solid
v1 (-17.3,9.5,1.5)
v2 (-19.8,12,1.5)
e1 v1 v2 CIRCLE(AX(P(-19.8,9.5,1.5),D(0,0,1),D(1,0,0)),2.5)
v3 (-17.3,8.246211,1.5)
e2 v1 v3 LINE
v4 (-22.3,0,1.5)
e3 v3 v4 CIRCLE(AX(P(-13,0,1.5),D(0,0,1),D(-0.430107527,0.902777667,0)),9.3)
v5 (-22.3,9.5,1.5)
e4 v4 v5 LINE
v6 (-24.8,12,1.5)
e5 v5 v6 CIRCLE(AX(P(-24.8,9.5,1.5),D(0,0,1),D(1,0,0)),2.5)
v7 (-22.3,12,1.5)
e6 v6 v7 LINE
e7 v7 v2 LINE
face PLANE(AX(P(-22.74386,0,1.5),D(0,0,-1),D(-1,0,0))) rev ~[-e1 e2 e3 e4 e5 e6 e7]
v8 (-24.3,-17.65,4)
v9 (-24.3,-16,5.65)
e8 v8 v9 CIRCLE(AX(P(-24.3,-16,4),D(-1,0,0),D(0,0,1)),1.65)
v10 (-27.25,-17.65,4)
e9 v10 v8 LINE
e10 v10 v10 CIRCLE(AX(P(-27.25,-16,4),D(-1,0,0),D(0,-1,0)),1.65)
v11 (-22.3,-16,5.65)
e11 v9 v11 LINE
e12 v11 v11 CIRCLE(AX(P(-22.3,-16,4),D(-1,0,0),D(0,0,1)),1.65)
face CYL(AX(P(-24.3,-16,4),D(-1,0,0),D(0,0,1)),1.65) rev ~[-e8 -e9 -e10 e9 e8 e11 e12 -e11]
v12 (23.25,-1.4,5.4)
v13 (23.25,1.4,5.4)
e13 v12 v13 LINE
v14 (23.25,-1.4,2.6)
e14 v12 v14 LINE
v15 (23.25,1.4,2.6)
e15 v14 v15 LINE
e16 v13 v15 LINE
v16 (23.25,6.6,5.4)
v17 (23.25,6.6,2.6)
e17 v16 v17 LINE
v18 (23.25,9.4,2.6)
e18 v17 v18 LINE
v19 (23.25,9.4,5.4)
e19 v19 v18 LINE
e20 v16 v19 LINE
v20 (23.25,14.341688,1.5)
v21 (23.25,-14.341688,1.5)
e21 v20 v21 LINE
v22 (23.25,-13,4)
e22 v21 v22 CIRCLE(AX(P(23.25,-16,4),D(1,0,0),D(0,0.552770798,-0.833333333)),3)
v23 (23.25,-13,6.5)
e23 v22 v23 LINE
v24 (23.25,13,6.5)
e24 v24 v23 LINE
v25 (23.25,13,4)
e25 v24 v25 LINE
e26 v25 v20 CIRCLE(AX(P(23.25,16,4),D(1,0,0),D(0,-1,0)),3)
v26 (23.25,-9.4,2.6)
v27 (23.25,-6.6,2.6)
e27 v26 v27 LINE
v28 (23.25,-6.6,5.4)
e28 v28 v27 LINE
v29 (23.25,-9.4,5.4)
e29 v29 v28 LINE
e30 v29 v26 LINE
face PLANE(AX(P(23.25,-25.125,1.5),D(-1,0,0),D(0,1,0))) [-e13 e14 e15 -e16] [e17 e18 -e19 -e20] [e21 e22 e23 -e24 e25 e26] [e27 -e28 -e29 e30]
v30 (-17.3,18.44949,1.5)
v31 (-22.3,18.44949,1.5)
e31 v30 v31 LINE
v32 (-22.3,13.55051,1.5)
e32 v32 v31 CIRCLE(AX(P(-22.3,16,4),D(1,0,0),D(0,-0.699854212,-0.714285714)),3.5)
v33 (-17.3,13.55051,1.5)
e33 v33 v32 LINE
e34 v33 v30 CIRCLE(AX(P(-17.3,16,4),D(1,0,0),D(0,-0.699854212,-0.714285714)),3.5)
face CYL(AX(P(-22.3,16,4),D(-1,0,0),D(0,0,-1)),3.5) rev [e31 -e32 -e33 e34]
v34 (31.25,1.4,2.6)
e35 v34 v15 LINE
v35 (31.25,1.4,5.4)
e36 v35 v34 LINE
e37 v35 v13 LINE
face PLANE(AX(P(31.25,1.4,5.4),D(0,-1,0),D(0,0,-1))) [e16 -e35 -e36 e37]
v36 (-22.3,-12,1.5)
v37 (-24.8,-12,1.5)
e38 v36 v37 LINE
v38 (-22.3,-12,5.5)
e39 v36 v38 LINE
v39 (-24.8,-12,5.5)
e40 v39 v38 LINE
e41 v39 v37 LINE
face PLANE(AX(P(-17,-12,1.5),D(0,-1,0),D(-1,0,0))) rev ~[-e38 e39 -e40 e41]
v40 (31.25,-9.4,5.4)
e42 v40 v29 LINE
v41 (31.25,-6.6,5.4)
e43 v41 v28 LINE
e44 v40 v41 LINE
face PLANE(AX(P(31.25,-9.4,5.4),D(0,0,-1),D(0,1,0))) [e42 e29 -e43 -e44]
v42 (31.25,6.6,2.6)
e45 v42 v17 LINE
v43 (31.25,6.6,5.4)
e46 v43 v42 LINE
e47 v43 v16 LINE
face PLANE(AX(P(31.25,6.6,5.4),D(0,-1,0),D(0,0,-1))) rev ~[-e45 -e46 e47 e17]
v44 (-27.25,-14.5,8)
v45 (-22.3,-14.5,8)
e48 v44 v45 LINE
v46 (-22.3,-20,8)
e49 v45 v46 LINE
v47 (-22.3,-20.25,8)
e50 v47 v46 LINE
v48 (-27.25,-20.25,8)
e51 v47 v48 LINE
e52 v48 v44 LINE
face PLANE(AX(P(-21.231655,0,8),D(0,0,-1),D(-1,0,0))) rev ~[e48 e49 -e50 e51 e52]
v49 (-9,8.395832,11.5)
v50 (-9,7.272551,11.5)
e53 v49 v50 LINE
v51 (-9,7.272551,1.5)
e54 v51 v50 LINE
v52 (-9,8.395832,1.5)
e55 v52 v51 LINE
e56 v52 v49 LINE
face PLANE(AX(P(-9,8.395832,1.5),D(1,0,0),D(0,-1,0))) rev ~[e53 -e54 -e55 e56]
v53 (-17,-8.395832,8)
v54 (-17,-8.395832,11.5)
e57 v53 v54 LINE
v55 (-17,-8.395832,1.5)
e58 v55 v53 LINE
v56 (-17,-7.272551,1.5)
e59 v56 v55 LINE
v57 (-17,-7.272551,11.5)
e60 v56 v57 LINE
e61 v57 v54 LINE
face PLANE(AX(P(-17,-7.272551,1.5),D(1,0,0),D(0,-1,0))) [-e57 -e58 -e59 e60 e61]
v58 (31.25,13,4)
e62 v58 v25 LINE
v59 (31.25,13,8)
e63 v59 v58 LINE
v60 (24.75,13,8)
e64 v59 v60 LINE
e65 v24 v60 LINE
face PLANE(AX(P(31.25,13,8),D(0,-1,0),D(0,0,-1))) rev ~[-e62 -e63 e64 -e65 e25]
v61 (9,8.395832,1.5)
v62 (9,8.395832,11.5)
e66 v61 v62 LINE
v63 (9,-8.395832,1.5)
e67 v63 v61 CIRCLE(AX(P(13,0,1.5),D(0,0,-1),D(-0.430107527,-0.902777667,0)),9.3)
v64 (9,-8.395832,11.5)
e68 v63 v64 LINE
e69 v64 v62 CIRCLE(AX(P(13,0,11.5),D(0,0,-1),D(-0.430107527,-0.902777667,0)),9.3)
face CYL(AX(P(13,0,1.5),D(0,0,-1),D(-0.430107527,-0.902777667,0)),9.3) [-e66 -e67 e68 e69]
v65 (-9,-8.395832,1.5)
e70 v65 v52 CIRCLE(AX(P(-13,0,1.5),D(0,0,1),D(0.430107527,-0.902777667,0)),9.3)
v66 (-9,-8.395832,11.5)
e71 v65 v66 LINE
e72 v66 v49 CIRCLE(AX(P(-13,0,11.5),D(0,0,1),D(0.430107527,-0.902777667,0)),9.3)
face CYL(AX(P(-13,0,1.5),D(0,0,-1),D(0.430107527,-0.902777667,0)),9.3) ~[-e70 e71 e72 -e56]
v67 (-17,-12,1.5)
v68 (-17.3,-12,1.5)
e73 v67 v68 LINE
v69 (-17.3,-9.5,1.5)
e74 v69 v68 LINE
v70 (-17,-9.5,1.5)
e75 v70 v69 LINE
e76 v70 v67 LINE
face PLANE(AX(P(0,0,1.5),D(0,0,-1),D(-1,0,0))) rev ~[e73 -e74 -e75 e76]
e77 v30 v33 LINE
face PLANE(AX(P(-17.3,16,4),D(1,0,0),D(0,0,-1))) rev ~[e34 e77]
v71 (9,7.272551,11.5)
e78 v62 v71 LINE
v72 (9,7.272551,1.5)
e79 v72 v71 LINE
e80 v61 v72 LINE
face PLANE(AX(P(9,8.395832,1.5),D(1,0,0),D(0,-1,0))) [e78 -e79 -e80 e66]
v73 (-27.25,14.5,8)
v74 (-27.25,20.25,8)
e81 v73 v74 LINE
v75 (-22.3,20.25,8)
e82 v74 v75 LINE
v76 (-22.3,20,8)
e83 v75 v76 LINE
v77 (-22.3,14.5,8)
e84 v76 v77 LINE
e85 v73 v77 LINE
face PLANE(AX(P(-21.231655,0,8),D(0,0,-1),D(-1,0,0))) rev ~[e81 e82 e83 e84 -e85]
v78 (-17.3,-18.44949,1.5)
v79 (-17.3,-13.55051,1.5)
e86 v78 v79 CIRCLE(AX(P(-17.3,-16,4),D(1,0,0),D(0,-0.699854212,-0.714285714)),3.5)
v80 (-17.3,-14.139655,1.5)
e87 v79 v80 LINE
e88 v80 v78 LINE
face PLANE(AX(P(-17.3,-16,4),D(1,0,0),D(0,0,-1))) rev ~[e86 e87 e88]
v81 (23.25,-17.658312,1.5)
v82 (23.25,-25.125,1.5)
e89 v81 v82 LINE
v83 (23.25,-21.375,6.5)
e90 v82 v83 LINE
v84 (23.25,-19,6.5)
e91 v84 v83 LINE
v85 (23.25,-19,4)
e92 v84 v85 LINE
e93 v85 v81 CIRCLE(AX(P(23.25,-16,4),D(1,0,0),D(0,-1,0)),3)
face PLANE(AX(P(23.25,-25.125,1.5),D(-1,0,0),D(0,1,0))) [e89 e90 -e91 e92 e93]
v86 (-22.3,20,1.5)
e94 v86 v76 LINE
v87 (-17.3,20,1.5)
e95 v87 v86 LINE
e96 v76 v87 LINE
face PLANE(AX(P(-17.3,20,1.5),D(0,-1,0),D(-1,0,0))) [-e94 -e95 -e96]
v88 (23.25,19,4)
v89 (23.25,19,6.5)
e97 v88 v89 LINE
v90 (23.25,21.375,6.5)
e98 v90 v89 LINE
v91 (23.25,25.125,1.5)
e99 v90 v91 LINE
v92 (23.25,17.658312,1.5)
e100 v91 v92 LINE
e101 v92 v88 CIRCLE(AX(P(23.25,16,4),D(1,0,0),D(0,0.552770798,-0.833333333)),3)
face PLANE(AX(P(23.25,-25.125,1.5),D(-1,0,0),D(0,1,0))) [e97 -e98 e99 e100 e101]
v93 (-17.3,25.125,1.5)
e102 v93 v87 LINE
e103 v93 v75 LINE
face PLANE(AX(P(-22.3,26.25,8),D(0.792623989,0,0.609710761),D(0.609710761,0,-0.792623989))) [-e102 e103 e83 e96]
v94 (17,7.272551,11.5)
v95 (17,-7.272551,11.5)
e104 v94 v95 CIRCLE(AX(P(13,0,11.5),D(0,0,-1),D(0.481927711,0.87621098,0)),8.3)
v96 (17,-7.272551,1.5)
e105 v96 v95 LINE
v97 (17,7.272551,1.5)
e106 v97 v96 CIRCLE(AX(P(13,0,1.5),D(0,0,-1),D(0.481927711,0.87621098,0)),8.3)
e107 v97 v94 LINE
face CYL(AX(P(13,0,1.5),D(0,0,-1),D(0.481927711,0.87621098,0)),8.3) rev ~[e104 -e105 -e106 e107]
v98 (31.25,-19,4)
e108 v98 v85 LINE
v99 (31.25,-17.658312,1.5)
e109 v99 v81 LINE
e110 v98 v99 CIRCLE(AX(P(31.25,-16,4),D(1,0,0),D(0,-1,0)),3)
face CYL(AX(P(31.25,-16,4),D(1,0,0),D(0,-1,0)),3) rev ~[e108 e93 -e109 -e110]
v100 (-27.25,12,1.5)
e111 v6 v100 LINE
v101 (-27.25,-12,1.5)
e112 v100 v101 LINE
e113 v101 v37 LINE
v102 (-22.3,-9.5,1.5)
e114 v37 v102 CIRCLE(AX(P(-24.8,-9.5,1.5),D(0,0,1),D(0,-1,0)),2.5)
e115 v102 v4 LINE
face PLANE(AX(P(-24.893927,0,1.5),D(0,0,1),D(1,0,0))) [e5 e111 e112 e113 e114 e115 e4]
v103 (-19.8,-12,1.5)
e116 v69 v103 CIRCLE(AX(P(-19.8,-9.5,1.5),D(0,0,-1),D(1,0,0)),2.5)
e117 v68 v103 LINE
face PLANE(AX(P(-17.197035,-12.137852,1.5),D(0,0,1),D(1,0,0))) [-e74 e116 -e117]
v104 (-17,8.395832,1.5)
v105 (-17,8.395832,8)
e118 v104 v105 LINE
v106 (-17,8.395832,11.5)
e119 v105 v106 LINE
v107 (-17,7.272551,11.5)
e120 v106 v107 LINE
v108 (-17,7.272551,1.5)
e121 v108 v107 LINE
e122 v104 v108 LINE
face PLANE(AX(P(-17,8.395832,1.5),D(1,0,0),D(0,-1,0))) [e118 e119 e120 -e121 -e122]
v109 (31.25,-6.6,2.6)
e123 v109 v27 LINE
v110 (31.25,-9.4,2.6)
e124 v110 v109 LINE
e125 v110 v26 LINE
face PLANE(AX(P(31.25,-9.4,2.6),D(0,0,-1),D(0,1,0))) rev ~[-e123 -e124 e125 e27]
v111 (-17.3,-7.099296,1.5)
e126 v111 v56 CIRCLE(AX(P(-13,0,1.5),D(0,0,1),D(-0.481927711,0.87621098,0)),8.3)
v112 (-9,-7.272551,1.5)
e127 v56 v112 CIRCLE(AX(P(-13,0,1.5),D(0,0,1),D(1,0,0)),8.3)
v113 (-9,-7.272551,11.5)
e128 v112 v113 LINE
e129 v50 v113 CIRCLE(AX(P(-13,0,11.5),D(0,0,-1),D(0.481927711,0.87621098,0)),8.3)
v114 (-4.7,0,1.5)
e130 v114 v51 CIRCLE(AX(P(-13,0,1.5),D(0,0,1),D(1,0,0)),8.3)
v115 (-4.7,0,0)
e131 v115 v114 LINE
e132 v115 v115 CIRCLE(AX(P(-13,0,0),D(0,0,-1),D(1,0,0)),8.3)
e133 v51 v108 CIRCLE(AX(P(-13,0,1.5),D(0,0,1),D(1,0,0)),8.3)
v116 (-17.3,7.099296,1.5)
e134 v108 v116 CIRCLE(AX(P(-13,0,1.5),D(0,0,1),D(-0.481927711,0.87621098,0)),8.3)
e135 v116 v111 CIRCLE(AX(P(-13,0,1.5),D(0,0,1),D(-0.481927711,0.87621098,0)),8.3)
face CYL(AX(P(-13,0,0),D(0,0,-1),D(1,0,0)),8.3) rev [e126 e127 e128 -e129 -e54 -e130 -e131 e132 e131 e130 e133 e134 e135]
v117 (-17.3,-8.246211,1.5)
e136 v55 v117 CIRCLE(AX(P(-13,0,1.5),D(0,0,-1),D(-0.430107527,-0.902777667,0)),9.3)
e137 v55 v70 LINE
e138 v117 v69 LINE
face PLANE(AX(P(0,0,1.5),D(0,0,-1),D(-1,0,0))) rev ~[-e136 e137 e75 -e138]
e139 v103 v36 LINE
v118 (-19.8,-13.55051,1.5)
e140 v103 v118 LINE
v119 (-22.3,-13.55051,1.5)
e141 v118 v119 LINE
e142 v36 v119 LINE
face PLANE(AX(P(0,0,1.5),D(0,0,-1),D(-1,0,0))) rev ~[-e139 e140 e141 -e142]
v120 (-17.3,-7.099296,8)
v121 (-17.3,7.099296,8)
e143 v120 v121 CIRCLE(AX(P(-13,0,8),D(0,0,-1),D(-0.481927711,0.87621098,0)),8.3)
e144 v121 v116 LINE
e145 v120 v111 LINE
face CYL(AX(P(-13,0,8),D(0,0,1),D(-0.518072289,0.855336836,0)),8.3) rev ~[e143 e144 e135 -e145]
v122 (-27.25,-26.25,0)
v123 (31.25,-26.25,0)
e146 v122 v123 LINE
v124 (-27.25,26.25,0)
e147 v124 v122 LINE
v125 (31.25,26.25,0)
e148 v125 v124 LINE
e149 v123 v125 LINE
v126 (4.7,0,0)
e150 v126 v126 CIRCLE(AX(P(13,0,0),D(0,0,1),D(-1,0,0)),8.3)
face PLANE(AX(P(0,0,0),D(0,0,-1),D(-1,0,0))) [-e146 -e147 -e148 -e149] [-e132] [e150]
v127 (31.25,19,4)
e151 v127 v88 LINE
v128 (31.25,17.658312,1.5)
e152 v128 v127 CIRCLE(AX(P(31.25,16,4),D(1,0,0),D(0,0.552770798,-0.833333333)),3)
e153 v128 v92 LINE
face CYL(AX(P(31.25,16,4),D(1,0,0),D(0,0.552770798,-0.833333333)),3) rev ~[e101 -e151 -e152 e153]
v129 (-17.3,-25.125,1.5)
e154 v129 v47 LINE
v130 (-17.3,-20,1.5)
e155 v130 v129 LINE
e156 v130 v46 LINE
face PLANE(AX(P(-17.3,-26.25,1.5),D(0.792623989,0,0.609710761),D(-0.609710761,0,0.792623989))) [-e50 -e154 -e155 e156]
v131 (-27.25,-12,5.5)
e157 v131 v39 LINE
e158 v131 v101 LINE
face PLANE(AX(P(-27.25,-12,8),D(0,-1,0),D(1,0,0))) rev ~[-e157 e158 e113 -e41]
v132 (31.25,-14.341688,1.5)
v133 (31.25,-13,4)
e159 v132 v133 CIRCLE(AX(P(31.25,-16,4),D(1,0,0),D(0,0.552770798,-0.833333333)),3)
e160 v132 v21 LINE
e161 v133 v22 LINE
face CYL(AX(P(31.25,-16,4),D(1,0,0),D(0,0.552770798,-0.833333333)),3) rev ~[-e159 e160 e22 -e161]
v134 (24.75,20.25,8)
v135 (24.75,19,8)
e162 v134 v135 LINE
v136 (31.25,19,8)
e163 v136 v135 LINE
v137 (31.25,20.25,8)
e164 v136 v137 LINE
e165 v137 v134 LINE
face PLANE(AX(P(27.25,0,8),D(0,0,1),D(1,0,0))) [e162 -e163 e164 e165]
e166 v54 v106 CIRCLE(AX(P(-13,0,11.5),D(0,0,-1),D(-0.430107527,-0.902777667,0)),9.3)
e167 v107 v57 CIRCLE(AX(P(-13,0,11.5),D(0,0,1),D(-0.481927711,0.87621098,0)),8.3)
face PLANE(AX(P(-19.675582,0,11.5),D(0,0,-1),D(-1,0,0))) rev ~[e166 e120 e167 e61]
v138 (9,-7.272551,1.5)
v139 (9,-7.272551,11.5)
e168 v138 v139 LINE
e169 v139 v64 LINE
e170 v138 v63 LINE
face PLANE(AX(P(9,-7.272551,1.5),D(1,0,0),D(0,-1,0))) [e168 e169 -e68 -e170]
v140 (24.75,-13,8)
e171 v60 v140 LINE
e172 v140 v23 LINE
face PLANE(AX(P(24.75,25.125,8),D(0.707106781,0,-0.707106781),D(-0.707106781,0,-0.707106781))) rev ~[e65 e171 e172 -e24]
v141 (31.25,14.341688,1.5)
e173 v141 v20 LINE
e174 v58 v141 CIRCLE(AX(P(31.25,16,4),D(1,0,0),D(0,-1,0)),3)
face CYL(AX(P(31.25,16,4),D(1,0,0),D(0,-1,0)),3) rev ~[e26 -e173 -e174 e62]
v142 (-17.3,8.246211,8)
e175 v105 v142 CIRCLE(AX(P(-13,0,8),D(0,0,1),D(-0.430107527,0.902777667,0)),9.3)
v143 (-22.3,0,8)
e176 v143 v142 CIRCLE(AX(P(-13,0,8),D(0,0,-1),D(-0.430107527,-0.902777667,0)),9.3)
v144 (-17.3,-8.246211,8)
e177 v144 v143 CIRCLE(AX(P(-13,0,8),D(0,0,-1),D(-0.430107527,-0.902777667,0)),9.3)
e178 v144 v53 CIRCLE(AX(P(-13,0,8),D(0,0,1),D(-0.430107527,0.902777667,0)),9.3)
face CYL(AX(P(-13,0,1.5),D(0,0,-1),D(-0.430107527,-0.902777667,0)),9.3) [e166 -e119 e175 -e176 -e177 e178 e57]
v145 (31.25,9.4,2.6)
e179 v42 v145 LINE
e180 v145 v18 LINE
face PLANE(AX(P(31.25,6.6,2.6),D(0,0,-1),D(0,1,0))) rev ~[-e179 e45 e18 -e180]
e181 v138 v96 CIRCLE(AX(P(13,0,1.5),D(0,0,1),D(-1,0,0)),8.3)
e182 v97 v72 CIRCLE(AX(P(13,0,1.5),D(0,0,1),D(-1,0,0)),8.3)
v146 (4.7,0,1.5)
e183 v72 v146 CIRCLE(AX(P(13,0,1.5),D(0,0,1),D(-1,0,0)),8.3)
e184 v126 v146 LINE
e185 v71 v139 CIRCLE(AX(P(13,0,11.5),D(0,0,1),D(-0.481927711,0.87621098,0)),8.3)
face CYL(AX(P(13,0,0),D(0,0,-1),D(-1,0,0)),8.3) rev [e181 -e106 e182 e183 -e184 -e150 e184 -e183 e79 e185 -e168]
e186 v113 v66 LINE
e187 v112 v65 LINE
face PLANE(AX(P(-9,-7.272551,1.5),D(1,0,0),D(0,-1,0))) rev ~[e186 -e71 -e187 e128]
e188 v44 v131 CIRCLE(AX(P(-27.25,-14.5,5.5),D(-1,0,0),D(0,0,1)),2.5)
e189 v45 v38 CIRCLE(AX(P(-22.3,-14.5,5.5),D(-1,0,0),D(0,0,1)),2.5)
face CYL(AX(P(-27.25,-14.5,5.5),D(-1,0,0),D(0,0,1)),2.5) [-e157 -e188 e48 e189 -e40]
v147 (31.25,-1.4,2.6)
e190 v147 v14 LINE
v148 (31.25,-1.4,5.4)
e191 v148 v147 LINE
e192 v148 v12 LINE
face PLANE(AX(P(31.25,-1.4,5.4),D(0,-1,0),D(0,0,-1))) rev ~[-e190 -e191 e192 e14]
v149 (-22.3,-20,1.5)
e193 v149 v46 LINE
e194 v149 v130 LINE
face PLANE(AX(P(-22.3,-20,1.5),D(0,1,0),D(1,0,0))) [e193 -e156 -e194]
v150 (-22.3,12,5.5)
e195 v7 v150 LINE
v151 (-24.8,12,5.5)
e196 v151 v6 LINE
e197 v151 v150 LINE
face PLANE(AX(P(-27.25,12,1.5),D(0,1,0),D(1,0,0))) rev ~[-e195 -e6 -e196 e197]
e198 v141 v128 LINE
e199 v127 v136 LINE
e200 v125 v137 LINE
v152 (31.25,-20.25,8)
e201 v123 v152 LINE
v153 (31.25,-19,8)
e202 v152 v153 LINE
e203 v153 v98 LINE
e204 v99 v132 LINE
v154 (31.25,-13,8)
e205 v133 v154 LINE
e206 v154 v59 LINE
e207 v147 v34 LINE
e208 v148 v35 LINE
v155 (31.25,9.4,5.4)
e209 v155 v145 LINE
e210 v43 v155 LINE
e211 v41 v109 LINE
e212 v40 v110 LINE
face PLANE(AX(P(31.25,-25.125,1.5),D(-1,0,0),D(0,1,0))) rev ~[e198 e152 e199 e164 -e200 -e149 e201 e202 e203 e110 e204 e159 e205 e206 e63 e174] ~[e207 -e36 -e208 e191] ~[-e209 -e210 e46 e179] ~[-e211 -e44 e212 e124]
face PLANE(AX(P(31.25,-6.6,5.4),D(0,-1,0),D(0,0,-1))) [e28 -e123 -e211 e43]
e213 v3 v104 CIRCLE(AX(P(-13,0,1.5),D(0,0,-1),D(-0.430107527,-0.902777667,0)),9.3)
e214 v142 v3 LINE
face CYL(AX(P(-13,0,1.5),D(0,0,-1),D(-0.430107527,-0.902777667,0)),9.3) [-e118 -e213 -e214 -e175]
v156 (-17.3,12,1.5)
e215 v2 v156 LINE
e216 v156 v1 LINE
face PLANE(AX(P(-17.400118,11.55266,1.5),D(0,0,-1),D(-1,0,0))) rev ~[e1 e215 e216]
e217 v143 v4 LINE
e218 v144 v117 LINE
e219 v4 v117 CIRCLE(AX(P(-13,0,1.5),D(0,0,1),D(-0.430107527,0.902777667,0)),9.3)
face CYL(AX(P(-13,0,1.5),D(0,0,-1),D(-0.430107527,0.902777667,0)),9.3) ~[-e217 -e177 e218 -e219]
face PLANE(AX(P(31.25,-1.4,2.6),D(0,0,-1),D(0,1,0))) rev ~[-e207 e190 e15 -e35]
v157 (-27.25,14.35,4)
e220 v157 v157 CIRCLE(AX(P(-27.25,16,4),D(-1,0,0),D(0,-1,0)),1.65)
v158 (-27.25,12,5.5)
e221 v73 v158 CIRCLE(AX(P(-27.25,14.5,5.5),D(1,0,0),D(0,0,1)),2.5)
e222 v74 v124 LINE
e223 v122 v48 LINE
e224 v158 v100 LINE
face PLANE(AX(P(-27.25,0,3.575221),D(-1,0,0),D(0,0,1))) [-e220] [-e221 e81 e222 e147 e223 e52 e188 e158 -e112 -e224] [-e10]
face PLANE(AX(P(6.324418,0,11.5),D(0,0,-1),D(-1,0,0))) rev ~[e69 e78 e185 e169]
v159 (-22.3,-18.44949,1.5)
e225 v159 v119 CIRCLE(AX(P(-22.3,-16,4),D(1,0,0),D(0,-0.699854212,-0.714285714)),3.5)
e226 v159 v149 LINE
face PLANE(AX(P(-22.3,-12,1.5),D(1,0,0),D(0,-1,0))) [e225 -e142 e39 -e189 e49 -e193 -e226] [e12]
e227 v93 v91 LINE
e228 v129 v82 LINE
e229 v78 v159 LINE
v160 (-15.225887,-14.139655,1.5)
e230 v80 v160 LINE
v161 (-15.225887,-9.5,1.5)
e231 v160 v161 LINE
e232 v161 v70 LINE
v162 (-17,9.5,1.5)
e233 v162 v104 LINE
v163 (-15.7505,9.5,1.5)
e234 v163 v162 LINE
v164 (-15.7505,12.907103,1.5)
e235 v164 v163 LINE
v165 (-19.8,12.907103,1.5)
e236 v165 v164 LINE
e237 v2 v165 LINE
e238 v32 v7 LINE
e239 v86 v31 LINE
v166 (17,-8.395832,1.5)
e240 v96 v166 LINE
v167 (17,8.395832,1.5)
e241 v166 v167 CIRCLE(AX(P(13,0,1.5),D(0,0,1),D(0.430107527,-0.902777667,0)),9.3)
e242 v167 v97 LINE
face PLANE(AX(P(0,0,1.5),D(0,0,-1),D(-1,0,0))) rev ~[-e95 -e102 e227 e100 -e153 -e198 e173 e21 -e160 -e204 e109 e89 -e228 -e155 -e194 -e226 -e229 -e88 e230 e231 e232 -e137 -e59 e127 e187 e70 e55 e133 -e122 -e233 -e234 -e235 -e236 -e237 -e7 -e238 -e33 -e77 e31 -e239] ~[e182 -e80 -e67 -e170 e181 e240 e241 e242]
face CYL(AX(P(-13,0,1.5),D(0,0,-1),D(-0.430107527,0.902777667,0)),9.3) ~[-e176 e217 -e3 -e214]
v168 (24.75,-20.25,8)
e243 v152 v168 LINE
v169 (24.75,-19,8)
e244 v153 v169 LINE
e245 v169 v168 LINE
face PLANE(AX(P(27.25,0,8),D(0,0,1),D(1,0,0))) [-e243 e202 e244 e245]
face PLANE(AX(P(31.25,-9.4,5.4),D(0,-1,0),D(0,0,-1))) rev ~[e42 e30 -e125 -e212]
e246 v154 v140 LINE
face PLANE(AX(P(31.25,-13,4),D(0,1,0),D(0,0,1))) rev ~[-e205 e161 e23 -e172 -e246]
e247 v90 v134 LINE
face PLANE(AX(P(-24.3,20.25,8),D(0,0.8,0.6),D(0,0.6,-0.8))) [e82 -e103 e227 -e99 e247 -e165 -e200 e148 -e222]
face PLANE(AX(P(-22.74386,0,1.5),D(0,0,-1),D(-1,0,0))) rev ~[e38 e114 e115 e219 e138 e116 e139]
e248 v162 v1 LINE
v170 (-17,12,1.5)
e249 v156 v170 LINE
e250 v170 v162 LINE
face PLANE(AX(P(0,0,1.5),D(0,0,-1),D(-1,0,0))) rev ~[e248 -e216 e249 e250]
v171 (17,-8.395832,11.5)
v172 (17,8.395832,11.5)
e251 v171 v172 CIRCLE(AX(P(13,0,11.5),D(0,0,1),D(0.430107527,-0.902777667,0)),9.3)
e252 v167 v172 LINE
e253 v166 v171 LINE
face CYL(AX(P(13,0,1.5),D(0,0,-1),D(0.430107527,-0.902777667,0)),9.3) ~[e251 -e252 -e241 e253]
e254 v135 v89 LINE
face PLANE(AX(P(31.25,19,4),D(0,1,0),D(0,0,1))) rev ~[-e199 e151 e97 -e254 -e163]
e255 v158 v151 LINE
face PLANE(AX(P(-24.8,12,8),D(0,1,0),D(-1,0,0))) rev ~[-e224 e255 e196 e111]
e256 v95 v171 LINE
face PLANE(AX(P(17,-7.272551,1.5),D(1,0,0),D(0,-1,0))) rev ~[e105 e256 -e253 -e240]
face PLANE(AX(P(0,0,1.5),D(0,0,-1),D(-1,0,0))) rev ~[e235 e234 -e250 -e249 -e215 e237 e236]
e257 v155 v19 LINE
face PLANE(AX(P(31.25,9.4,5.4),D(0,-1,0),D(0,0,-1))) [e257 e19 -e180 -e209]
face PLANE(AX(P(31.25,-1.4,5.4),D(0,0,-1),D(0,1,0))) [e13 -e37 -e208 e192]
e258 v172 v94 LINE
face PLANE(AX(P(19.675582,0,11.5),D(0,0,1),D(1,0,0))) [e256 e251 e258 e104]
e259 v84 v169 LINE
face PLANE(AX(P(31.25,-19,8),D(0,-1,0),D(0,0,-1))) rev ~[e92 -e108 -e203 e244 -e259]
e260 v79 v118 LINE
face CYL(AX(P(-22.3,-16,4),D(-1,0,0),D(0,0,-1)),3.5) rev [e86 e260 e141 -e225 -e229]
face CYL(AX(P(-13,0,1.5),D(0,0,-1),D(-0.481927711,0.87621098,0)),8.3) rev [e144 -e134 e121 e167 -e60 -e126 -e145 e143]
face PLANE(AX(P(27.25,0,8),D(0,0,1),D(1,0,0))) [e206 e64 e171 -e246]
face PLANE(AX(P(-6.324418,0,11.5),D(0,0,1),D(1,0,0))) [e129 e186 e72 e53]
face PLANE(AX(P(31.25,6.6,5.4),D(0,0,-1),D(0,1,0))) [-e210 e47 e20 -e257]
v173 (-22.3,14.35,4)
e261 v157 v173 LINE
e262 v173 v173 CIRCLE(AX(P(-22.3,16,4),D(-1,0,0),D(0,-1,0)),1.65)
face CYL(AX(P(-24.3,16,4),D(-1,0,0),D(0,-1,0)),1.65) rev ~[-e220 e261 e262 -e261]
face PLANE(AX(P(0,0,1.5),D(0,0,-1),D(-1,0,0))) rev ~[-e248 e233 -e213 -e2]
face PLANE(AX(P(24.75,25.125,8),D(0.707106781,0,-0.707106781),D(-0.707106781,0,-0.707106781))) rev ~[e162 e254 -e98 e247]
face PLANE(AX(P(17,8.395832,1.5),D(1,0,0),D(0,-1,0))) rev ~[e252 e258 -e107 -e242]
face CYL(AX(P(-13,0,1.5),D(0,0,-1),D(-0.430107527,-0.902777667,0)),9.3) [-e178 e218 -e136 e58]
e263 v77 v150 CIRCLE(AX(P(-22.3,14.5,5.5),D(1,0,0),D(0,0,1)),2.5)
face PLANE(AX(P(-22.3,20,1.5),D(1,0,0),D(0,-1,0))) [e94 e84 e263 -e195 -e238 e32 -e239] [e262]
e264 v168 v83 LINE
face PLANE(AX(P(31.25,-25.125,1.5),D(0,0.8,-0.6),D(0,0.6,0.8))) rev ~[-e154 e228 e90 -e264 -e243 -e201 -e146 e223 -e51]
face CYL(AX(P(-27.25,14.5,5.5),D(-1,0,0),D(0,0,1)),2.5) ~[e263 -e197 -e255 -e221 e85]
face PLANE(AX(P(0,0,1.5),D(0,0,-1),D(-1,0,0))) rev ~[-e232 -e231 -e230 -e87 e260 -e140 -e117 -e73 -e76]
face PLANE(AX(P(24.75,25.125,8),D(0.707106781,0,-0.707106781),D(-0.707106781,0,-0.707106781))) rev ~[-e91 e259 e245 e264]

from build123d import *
from build123d.topology import SkipClean

# Parameters (mm, degrees)
ESBO_O1_R                 = 8.3
RESSALTO_EXTRUS_O1_DEPTH  = 1.5
RESSALTO_EXTRUS_O2_DEPTH  = 6
ESBO_O3_W                 = 2.8
ESBO_O3_H                 = 2.8
CORTE_EXTRUS_O1_DEPTH     = 37.142080737
ESBO_O4_W                 = 2.8
ESBO_O4_H                 = 2.8
CORTE_EXTRUS_O2_DEPTH     = 53.08166664
ESBO_O6_W                 = 5
ESBO_O6_H                 = 25
RESSALTO_EXTRUS_O5_DEPTH  = 7.5
ESBO_O7_W                 = 2.8
ESBO_O7_H                 = 2.8
CORTE_EXTRUS_O3_DEPTH     = 60
RESSALTO_EXTRUS_O3_DEPTH  = 10
ESBO_O8_W                 = 60
ESBO_O8_H                 = 52.5
ESBO_O8_R                 = 8.3
RESSALTO_EXTRUS_O6_DEPTH  = 1.5
CORTE_EXTRUS_O4_DEPTH     = 42.098205557
RESSALTO_EXTRUS_O7_DEPTH  = 6.5
ESBO_O14_W                = 5.7
ESBO_O14_H                = 52.5
CORTE_EXTRUS_O8_DEPTH     = 4.5
CORTE_EXTRUS_O9_DEPTH     = 41.657871317
CORTE_EXTRUS_O13_DEPTH    = 6.25
CORTE_EXTRUS_O14_DEPTH    = 6.25
ESBO_O12_R                = 1.65
CORTE_EXTRUS_O15_DEPTH    = 4.5
CORTE_EXTRUS_O17_DEPTH    = 62.398717413
ESBO_O20_R                = 3.5
CORTE_EXTRUS_O18_DEPTH    = 5
RESSALTO_EXTRUS_O8_START  = 2.95
ESBO_O21_R                = 1.65
RESSALTO_EXTRUS_O8_DEPTH  = 2.95
ESBO_O22_W                = 2.8
ESBO_O22_H                = 2.8
RESSALTO_EXTRUS_O9_DEPTH  = 1.25
CORTE_EXTRUS_O19_DEPTH    = 6
ESBO_O24_W                = 8
ESBO_O24_H                = 50.25
RESSALTO_EXTRUS_O10_DEPTH = 6.5
CORTE_EXTRUS_O20_DEPTH    = 62.222570389
CORTE_EXTRUS_O21_REACH    = 67.143
ESBO_O26_W                = 2.8
ESBO_O26_H                = 2.8
CORTE_EXTRUS_O22_REACH    = 67.143
CORTE_EXTRUS_O23_DEPTH    = 6.5
CORTE_EXTRUS_O24_DEPTH    = 6.5
CORTE_EXTRUS_O25_START    = -6.5
CORTE_EXTRUS_O25_DEPTH    = 6.5
CORTE_EXTRUS_O26_DEPTH    = 4.95


with BuildPart() as part:
    # Esboço1 → Ressalto-extrusão1 (new body)
    with BuildSketch(Plane.XY):
        Polygon((-25, -12.5), (-25, 12.5), (25, 12.5), (25, -12.5), (15, -12.5), (-15, -12.5), align=None)
        with Locations((-13, 0)):
            Circle(ESBO_O1_R, mode=Mode.SUBTRACT)
        with Locations(Location((13, 0, 0), (0, 0, 180))):
            Circle(ESBO_O1_R, mode=Mode.SUBTRACT)
    extrude(amount=RESSALTO_EXTRUS_O1_DEPTH)

    # Esboço2 → Ressalto-extrusão2 (add)
    with BuildSketch(Plane.XY.offset(1.5)):
        Polygon((-20, -12.5), (-25, -12.5), (-25, -2.5), (-22, -2.5), (-22, -9.5), (-15, -9.5), (-15, -12.5), align=None)
        Polygon((22, -2.5), (22, -9.5), (15, -9.5), (15, -12.5), (20, -12.5), (25, -12.5), (25, -2.5), align=None)
        Polygon((20, 12.5), (25, 12.5), (25, 2.5), (22, 2.5), (22, 9.5), (15, 9.5), (15, 12.5), align=None)
        Polygon((-22, 2.5), (-22, 9.5), (-15, 9.5), (-15, 12.5), (-20, 12.5), (-25, 12.5), (-25, 2.5), align=None)
    extrude(amount=RESSALTO_EXTRUS_O2_DEPTH)

    # Esboço3 → Corte-extrusão1 (cut, through all)
    with BuildSketch(Plane.XZ.offset(12.5)):
        with Locations((-20, 3.75)):
            Rectangle(ESBO_O3_W, ESBO_O3_H)
        with Locations((20, 3.75)):
            Rectangle(ESBO_O3_W, ESBO_O3_H)
    extrude(amount=-CORTE_EXTRUS_O1_DEPTH, mode=Mode.SUBTRACT)

    # Esboço4 → Corte-extrusão2 (cut, through all)
    with BuildSketch(Plane.ZY.offset(25)):
        with Locations((3.75, 7.5)):
            Rectangle(ESBO_O4_W, ESBO_O4_H)
        with Locations((3.75, -7.5)):
            Rectangle(ESBO_O4_W, ESBO_O4_H)
    extrude(amount=-CORTE_EXTRUS_O2_DEPTH, mode=Mode.SUBTRACT)

    # Esboço6 → Ressalto-extrusão5 (add)
    with BuildSketch(Plane(origin=(0, 0, 0), x_dir=(-1, 0, 0), z_dir=(0, 0, -1))):
        with Locations((-27.5, 0)):
            Rectangle(ESBO_O6_W, ESBO_O6_H)
        with Locations((27.5, 0)):
            Rectangle(ESBO_O6_W, ESBO_O6_H)
    extrude(amount=-RESSALTO_EXTRUS_O5_DEPTH)

    # Esboço7 → Corte-extrusão3 (cut)
    with BuildSketch(Plane(origin=(30, 0, 0), x_dir=(0, 0, -1), z_dir=(1, 0, 0))):
        with Locations((-3.75, -7.5)):
            Rectangle(ESBO_O7_W, ESBO_O7_H)
        with Locations((-3.75, 7.5)):
            Rectangle(ESBO_O7_W, ESBO_O7_H)
    extrude(amount=-CORTE_EXTRUS_O3_DEPTH, mode=Mode.SUBTRACT)

    # Esboço5 → Ressalto-extrusão3 (add)
    with SkipClean():  # the faces are left unmerged after this step: merging them gives an invalid solid
        with BuildSketch(Plane.XY.offset(1.5)):
            with BuildLine():
                Line((-9, -7.272551134), (-9, -8.395832299))
                ThreePointArc((-9, -8.395832299), (-3.7, 0), (-9, 8.395832299))
                Line((-9, 8.395832299), (-9, 7.272551134))
                ThreePointArc((-9, 7.272551134), (-4.7, 0), (-9, -7.272551134))
            make_face()
            with BuildLine():
                Line((-17, -7.272551134), (-17, -8.395832299))
                ThreePointArc((-17, -8.395832299), (-22.3, 0), (-17, 8.395832299))
                Line((-17, 8.395832299), (-17, 7.272551134))
                ThreePointArc((-17, 7.272551134), (-21.3, 0), (-17, -7.272551134))
            make_face()
            with BuildLine():
                Line((9, -7.272551134), (9, -8.395832299))
                ThreePointArc((9, -8.395832299), (3.7, 0), (9, 8.395832299))
                Line((9, 8.395832299), (9, 7.272551134))
                ThreePointArc((9, 7.272551134), (4.7, 0), (9, -7.272551134))
            make_face()
            with BuildLine():
                Line((17, 8.395832299), (17, 7.272551134))
                ThreePointArc((17, 7.272551134), (21.3, 0), (17, -7.272551134))
                Line((17, -7.272551134), (17, -8.395832299))
                ThreePointArc((17, -8.395832299), (22.3, 0), (17, 8.395832299))
            make_face()
        extrude(amount=RESSALTO_EXTRUS_O3_DEPTH)

    # Esboço8 → Ressalto-extrusão6 (add)
    with SkipClean():  # the faces are left unmerged after this step: merging them gives an invalid solid
        with BuildSketch(Plane(origin=(0, 0, 0), x_dir=(-1, 0, 0), z_dir=(0, 0, -1))):
            Rectangle(ESBO_O8_W, ESBO_O8_H)
            with Locations(Location((13, 0, 0), (0, 0, 298.811379709))):
                Circle(ESBO_O8_R, mode=Mode.SUBTRACT)
            with Locations((-13, 0)):
                Circle(ESBO_O8_R, mode=Mode.SUBTRACT)
        extrude(amount=-RESSALTO_EXTRUS_O6_DEPTH)

    # Esboço9 → Corte-extrusão4 (cut, through all)
    with SkipClean():  # the faces are left unmerged after this step: merging them gives an invalid solid
        with BuildSketch(Plane.XY.offset(1.5)):
            Polygon((-15, -12.5), (-15, -9.5), (-22, -9.5), (-22, -2.5), (-25, -2.5), (-25, 2.5), (-22, 2.5), (-22, 9.5), (-15, 9.5), (-15, 12.5), (-30, 12.5), (-30, -12.5), align=None)
        extrude(amount=CORTE_EXTRUS_O4_DEPTH, mode=Mode.SUBTRACT)

    # Esboço10 → Ressalto-extrusão7 (add)
    with SkipClean():  # the faces are left unmerged after this step: merging them gives an invalid solid
        with BuildSketch(Plane.XY.offset(1.5)):
            Polygon((-24.3, -26.25), (-24.3, 26.25), (-22.3, 26.25), (-17.3, 26.25), (-17.3, 20), (-22.3, 20), (-22.3, 12), (-17.3, 12), (-17.3, -12), (-22.3, -12), (-22.3, -20), (-17.3, -20), (-17.3, -26.25), (-22.3, -26.25), align=None)
        extrude(amount=RESSALTO_EXTRUS_O7_DEPTH)

    # Esboço14 → Corte-extrusão8 (cut)
    with SkipClean():  # the faces are left unmerged after this step: merging them gives an invalid solid
        with BuildSketch(Plane.XY.offset(1.5)):
            with Locations((-27.15, 0)):
                Rectangle(ESBO_O14_W, ESBO_O14_H)
        extrude(amount=-CORTE_EXTRUS_O8_DEPTH, mode=Mode.SUBTRACT)

    # Esboço15 → Corte-extrusão9 (cut, through all)
    with SkipClean():  # the faces are left unmerged after this step: merging them gives an invalid solid
        with BuildSketch(Plane.XY.offset(8)):
            with BuildLine():
                Line((-17.3, -7.09929574), (-17.3, 7.09929574))
                ThreePointArc((-17.3, 7.09929574), (-21.3, 0), (-17.3, -7.09929574))
            make_face()
        extrude(amount=-CORTE_EXTRUS_O9_DEPTH, mode=Mode.SUBTRACT)

    # Esboço11 → Corte-extrusão13 (cut)
    with SkipClean():  # the faces are left unmerged after this step: merging them gives an invalid solid
        with BuildSketch(Plane.XZ.offset(26.25)):
            Polygon((-22.3, 8), (-17.3, 8), (-17.3, 1.5), align=None)
        extrude(amount=-CORTE_EXTRUS_O13_DEPTH, mode=Mode.SUBTRACT)

    # Esboço17 → Corte-extrusão14 (cut)
    with SkipClean():  # the faces are left unmerged after this step: merging them gives an invalid solid
        with BuildSketch(Plane(origin=(0, 26.25, 0), x_dir=(1, 0, 0), z_dir=(0, 1, 0))):
            Polygon((-17.3, -1.5), (-17.3, -8), (-22.3, -8), align=None)
        extrude(amount=-CORTE_EXTRUS_O14_DEPTH, mode=Mode.SUBTRACT)

    # Esboço12 → Corte-extrusão15 (cut)
    with SkipClean():  # the faces are left unmerged after this step: merging them gives an invalid solid
        with BuildSketch(Plane.ZY.offset(24.3)):
            with Locations(Location((4, 16, 0), (0, 0, 270))):
                Circle(ESBO_O12_R)
            with Locations((4, -16)):
                Circle(ESBO_O12_R)
        extrude(amount=-CORTE_EXTRUS_O15_DEPTH, mode=Mode.SUBTRACT)

    # Esboço19 → Corte-extrusão17 (cut, through all)
    with SkipClean():  # the faces are left unmerged after this step: merging them gives an invalid solid
        with BuildSketch(Plane.ZY.offset(24.3)):
            Polygon((0, 26.25), (8, 26.25), (8, 20.25), align=None)
            Polygon((8, -20.25), (0, -26.25), (8, -26.25), align=None)
        extrude(amount=-CORTE_EXTRUS_O17_DEPTH, mode=Mode.SUBTRACT)

    # Esboço20 → Corte-extrusão18 (cut)
    with SkipClean():  # the faces are left unmerged after this step: merging them gives an invalid solid
        with BuildSketch(Plane(origin=(-22.3, 0, 0), x_dir=(0, 0, -1), z_dir=(1, 0, 0))):
            with Locations((-4, -16)):
                Circle(ESBO_O20_R)
            with Locations((-4, 16)):
                Circle(ESBO_O20_R)
        extrude(amount=CORTE_EXTRUS_O18_DEPTH, mode=Mode.SUBTRACT)

    # Esboço21 → Ressalto-extrusão8 (add)
    with SkipClean():  # the faces are left unmerged after this step: merging them gives an invalid solid
        with BuildSketch(Plane.ZY.offset(24.3).offset(RESSALTO_EXTRUS_O8_START)):
            Polygon((0, 26.25), (0, -26.25), (8, -20.25), (8, 20.25), align=None)
            with Locations(Location((4, -16, 0), (0, 0, 270))):
                Circle(ESBO_O21_R, mode=Mode.SUBTRACT)
            with Locations(Location((4, 16, 0), (0, 0, 270))):
                Circle(ESBO_O21_R, mode=Mode.SUBTRACT)
        extrude(amount=-RESSALTO_EXTRUS_O8_DEPTH)

    # Esboço22 → Ressalto-extrusão9 (add)
    with SkipClean():  # the faces are left unmerged after this step: merging them gives an invalid solid
        with BuildSketch(Plane(origin=(30, 0, 0), x_dir=(0, 0, -1), z_dir=(1, 0, 0))):
            Polygon((-1.5, -25.125), (0, -26.25), (0, 26.25), (-1.5, 25.125), (-1.5, 12.5), (-7.5, 12.5), (-7.5, -12.5), (-1.5, -12.5), align=None)
            with Locations((-3.75, -7.5)):
                Rectangle(ESBO_O22_W, ESBO_O22_H, mode=Mode.SUBTRACT)
            with Locations((-3.75, 7.5)):
                Rectangle(ESBO_O22_W, ESBO_O22_H, mode=Mode.SUBTRACT)
        extrude(amount=RESSALTO_EXTRUS_O9_DEPTH)

    # Esboço23 → Corte-extrusão19 (cut)
    with SkipClean():  # the faces are left unmerged after this step: merging them gives an invalid solid
        with BuildSketch(Plane.XY.offset(7.5)):
            Polygon((25, -2.5), (22, -2.5), (22, -9.5), (15, -9.5), (15, -12.5), (31.25, -12.5), (31.25, 12.5), (15, 12.5), (15, 9.5), (22, 9.5), (22, 2.5), (25, 2.5), align=None)
        extrude(amount=-CORTE_EXTRUS_O19_DEPTH, mode=Mode.SUBTRACT)

    # Esboço24 → Ressalto-extrusão10 (add)
    with SkipClean():  # the faces are left unmerged after this step: merging them gives an invalid solid
        with BuildSketch(Plane.XY.offset(1.5)):
            with Locations((27.25, 0)):
                Rectangle(ESBO_O24_W, ESBO_O24_H)
        extrude(amount=RESSALTO_EXTRUS_O10_DEPTH)

    # Esboço25 → Corte-extrusão20 (cut, through all)
    with SkipClean():  # the faces are left unmerged after this step: merging them gives an invalid solid
        with BuildSketch(Plane(origin=(0, 25.125, 0), x_dir=(1, 0, 0), z_dir=(0, 1, 0))):
            Polygon((23.25, -6.5), (23.25, -8), (24.75, -8), align=None)
        extrude(amount=-CORTE_EXTRUS_O20_DEPTH, mode=Mode.SUBTRACT)

    # Esboço26 → Corte-extrusão21 (cut, up to next)
    with BuildSketch(Plane(origin=(31.25, 0, 0), x_dir=(0, 0, -1), z_dir=(1, 0, 0)), mode=Mode.PRIVATE) as corte_extrus_o21_sk1:
        with Locations((-4, 0)):
            Rectangle(ESBO_O26_W, ESBO_O26_H)
    corte_extrus_o21_tool1 = extrude(corte_extrus_o21_sk1.sketch, amount=-CORTE_EXTRUS_O21_REACH, mode=Mode.PRIVATE) & part.part
    # Esboço26 → Corte-extrusão21 (cut, up to next)
    with BuildSketch(Plane(origin=(31.25, 0, 0), x_dir=(0, 0, -1), z_dir=(1, 0, 0)), mode=Mode.PRIVATE) as corte_extrus_o21_sk2:
        with Locations((-4, -8)):
            Rectangle(ESBO_O26_W, ESBO_O26_H)
    corte_extrus_o21_tool2 = extrude(corte_extrus_o21_sk2.sketch, amount=-CORTE_EXTRUS_O21_REACH, mode=Mode.PRIVATE) & part.part
    # Esboço26 → Corte-extrusão21 (cut, up to next)
    with BuildSketch(Plane(origin=(31.25, 0, 0), x_dir=(0, 0, -1), z_dir=(1, 0, 0)), mode=Mode.PRIVATE) as corte_extrus_o21_sk3:
        with Locations((-4, 8)):
            Rectangle(ESBO_O26_W, ESBO_O26_H)
    corte_extrus_o21_tool3 = extrude(corte_extrus_o21_sk3.sketch, amount=-CORTE_EXTRUS_O21_REACH, mode=Mode.PRIVATE) & part.part
    add(corte_extrus_o21_tool1.solids().sort_by_distance((31.25, 0, 4))[0], mode=Mode.SUBTRACT)
    add(corte_extrus_o21_tool2.solids().sort_by_distance((31.25, -8, 4))[0], mode=Mode.SUBTRACT)
    add(corte_extrus_o21_tool3.solids().sort_by_distance((31.25, 8, 4))[0], mode=Mode.SUBTRACT)

    # Esboço27 → Corte-extrusão22 (cut, up to next)
    with BuildSketch(Plane(origin=(31.25, 0, 0), x_dir=(0, 0, -1), z_dir=(1, 0, 0)), mode=Mode.PRIVATE) as corte_extrus_o22_sk1:
        with BuildLine():
            Line((-4, 19), (-8, 19))
            Line((-8, 19), (-8, 13))
            Line((-8, 13), (-4, 13))
            ThreePointArc((-4, 13), (-2.581362835, 13.356617963), (-1.5, 14.341687605))
            Line((-1.5, 14.341687605), (-1.5, 17.658312395))
            ThreePointArc((-1.5, 17.658312395), (-2.581362835, 18.643382037), (-4, 19))
        make_face()
    corte_extrus_o22_tool1 = extrude(corte_extrus_o22_sk1.sketch, amount=-CORTE_EXTRUS_O22_REACH, mode=Mode.PRIVATE) & part.part
    # Esboço27 → Corte-extrusão22 (cut, up to next)
    with BuildSketch(Plane(origin=(31.25, 0, 0), x_dir=(0, 0, -1), z_dir=(1, 0, 0)), mode=Mode.PRIVATE) as corte_extrus_o22_sk2:
        Polygon((-8, -20.25), (-8, -25.125), (-1.5, -25.125), align=None)
    corte_extrus_o22_tool2 = extrude(corte_extrus_o22_sk2.sketch, amount=-CORTE_EXTRUS_O22_REACH, mode=Mode.PRIVATE) & part.part
    # Esboço27 → Corte-extrusão22 (cut, up to next)
    with BuildSketch(Plane(origin=(31.25, 0, 0), x_dir=(0, 0, -1), z_dir=(1, 0, 0)), mode=Mode.PRIVATE) as corte_extrus_o22_sk3:
        Polygon((-8, 25.125), (-8, 20.25), (-1.5, 25.125), align=None)
    corte_extrus_o22_tool3 = extrude(corte_extrus_o22_sk3.sketch, amount=-CORTE_EXTRUS_O22_REACH, mode=Mode.PRIVATE) & part.part
    # Esboço27 → Corte-extrusão22 (cut, up to next)
    with BuildSketch(Plane(origin=(31.25, 0, 0), x_dir=(0, 0, -1), z_dir=(1, 0, 0)), mode=Mode.PRIVATE) as corte_extrus_o22_sk4:
        with BuildLine():
            Line((-4, -13), (-8, -13))
            Line((-8, -13), (-8, -19))
            Line((-8, -19), (-4, -19))
            ThreePointArc((-4, -19), (-2.581362835, -18.643382037), (-1.5, -17.658312395))
            Line((-1.5, -17.658312395), (-1.5, -14.341687605))
            ThreePointArc((-1.5, -14.341687605), (-2.581362835, -13.356617963), (-4, -13))
        make_face()
    corte_extrus_o22_tool4 = extrude(corte_extrus_o22_sk4.sketch, amount=-CORTE_EXTRUS_O22_REACH, mode=Mode.PRIVATE) & part.part
    add(corte_extrus_o22_tool1.solids().sort_by_distance((31.25, 16, 4.892695))[0], mode=Mode.SUBTRACT)
    add(corte_extrus_o22_tool2.solids().sort_by_distance((31.25, -23.5, 5.833333))[0], mode=Mode.SUBTRACT)
    add(corte_extrus_o22_tool3.solids().sort_by_distance((31.25, 23.5, 5.833333))[0], mode=Mode.SUBTRACT)
    add(corte_extrus_o22_tool4.solids().sort_by_distance((31.25, -16, 4.892695))[0], mode=Mode.SUBTRACT)

    # Esboço28 → Corte-extrusão23 (cut)
    with SkipClean():  # the faces are left unmerged after this step: merging them gives an invalid solid
        with BuildSketch(Plane.XY.offset(8)):
            with BuildLine():
                Line((-27.25, 12), (-27.25, -12))
                Line((-27.25, -12), (-24.8, -12))
                ThreePointArc((-24.8, -12), (-23.032233047, -11.267766953), (-22.3, -9.5))
                Line((-22.3, -9.5), (-22.3, 9.5))
                ThreePointArc((-22.3, 9.5), (-23.032233047, 11.267766953), (-24.8, 12))
                Line((-24.8, 12), (-27.25, 12))
            make_face()
        extrude(amount=-CORTE_EXTRUS_O23_DEPTH, mode=Mode.SUBTRACT)

    # Esboço29 → Corte-extrusão24 (cut)
    with SkipClean():  # the faces are left unmerged after this step: merging them gives an invalid solid
        with BuildSketch(Plane.XY.offset(8)):
            with BuildLine():
                Line((-19.8, -12), (-19.8, -12.44923286))
                Line((-19.8, -12.44923286), (-19.8, -14.139655276))
                Line((-19.8, -14.139655276), (-15.225886581, -14.139655276))
                Line((-15.225886581, -14.139655276), (-15.225886581, -9.5))
                Line((-15.225886581, -9.5), (-17.3, -9.5))
                ThreePointArc((-17.3, -9.5), (-18.032233047, -11.267766953), (-19.8, -12))
            make_face()
            with BuildLine():
                Line((-19.8, 12), (-19.8, 12.907103379))
                Line((-19.8, 12.907103379), (-15.750500434, 12.907103379))
                Line((-15.750500434, 12.907103379), (-15.750500434, 9.5))
                Line((-15.750500434, 9.5), (-17.3, 9.5))
                ThreePointArc((-17.3, 9.5), (-18.032233047, 11.267766953), (-19.8, 12))
            make_face()
        extrude(amount=-CORTE_EXTRUS_O24_DEPTH, mode=Mode.SUBTRACT)

    # Esboço30 → Corte-extrusão25 (cut)
    with SkipClean():  # the faces are left unmerged after this step: merging them gives an invalid solid
        with BuildSketch(Plane.XY.offset(8).offset(CORTE_EXTRUS_O25_START)):
            with BuildLine():
                Line((-27.25, 12), (-17, 12))
                Line((-17, 12), (-17, 8.395832299))
                ThreePointArc((-17, 8.395832299), (-22.3, 0), (-17, -8.395832299))
                Line((-17, -8.395832299), (-17, -12))
                Line((-17, -12), (-27.25, -12))
                Line((-27.25, -12), (-27.25, 12))
            make_face()
        extrude(amount=CORTE_EXTRUS_O25_DEPTH, mode=Mode.SUBTRACT)

    # Esboço31 → Corte-extrusão26 (cut)
    with SkipClean():  # the faces are left unmerged after this step: merging them gives an invalid solid
        with BuildSketch(Plane.ZY.offset(27.25)):
            with BuildLine():
                Line((5.5, -12), (8, -12))
                Line((8, -12), (8, -14.5))
                ThreePointArc((8, -14.5), (7.267766953, -12.732233047), (5.5, -12))
            make_face()
            with BuildLine():
                Line((5.5, 12), (8, 12))
                Line((8, 12), (8, 14.5))
                ThreePointArc((8, 14.5), (7.267766953, 12.732233047), (5.5, 12))
            make_face()
        extrude(amount=-CORTE_EXTRUS_O26_DEPTH, mode=Mode.SUBTRACT)


solid = part.part
